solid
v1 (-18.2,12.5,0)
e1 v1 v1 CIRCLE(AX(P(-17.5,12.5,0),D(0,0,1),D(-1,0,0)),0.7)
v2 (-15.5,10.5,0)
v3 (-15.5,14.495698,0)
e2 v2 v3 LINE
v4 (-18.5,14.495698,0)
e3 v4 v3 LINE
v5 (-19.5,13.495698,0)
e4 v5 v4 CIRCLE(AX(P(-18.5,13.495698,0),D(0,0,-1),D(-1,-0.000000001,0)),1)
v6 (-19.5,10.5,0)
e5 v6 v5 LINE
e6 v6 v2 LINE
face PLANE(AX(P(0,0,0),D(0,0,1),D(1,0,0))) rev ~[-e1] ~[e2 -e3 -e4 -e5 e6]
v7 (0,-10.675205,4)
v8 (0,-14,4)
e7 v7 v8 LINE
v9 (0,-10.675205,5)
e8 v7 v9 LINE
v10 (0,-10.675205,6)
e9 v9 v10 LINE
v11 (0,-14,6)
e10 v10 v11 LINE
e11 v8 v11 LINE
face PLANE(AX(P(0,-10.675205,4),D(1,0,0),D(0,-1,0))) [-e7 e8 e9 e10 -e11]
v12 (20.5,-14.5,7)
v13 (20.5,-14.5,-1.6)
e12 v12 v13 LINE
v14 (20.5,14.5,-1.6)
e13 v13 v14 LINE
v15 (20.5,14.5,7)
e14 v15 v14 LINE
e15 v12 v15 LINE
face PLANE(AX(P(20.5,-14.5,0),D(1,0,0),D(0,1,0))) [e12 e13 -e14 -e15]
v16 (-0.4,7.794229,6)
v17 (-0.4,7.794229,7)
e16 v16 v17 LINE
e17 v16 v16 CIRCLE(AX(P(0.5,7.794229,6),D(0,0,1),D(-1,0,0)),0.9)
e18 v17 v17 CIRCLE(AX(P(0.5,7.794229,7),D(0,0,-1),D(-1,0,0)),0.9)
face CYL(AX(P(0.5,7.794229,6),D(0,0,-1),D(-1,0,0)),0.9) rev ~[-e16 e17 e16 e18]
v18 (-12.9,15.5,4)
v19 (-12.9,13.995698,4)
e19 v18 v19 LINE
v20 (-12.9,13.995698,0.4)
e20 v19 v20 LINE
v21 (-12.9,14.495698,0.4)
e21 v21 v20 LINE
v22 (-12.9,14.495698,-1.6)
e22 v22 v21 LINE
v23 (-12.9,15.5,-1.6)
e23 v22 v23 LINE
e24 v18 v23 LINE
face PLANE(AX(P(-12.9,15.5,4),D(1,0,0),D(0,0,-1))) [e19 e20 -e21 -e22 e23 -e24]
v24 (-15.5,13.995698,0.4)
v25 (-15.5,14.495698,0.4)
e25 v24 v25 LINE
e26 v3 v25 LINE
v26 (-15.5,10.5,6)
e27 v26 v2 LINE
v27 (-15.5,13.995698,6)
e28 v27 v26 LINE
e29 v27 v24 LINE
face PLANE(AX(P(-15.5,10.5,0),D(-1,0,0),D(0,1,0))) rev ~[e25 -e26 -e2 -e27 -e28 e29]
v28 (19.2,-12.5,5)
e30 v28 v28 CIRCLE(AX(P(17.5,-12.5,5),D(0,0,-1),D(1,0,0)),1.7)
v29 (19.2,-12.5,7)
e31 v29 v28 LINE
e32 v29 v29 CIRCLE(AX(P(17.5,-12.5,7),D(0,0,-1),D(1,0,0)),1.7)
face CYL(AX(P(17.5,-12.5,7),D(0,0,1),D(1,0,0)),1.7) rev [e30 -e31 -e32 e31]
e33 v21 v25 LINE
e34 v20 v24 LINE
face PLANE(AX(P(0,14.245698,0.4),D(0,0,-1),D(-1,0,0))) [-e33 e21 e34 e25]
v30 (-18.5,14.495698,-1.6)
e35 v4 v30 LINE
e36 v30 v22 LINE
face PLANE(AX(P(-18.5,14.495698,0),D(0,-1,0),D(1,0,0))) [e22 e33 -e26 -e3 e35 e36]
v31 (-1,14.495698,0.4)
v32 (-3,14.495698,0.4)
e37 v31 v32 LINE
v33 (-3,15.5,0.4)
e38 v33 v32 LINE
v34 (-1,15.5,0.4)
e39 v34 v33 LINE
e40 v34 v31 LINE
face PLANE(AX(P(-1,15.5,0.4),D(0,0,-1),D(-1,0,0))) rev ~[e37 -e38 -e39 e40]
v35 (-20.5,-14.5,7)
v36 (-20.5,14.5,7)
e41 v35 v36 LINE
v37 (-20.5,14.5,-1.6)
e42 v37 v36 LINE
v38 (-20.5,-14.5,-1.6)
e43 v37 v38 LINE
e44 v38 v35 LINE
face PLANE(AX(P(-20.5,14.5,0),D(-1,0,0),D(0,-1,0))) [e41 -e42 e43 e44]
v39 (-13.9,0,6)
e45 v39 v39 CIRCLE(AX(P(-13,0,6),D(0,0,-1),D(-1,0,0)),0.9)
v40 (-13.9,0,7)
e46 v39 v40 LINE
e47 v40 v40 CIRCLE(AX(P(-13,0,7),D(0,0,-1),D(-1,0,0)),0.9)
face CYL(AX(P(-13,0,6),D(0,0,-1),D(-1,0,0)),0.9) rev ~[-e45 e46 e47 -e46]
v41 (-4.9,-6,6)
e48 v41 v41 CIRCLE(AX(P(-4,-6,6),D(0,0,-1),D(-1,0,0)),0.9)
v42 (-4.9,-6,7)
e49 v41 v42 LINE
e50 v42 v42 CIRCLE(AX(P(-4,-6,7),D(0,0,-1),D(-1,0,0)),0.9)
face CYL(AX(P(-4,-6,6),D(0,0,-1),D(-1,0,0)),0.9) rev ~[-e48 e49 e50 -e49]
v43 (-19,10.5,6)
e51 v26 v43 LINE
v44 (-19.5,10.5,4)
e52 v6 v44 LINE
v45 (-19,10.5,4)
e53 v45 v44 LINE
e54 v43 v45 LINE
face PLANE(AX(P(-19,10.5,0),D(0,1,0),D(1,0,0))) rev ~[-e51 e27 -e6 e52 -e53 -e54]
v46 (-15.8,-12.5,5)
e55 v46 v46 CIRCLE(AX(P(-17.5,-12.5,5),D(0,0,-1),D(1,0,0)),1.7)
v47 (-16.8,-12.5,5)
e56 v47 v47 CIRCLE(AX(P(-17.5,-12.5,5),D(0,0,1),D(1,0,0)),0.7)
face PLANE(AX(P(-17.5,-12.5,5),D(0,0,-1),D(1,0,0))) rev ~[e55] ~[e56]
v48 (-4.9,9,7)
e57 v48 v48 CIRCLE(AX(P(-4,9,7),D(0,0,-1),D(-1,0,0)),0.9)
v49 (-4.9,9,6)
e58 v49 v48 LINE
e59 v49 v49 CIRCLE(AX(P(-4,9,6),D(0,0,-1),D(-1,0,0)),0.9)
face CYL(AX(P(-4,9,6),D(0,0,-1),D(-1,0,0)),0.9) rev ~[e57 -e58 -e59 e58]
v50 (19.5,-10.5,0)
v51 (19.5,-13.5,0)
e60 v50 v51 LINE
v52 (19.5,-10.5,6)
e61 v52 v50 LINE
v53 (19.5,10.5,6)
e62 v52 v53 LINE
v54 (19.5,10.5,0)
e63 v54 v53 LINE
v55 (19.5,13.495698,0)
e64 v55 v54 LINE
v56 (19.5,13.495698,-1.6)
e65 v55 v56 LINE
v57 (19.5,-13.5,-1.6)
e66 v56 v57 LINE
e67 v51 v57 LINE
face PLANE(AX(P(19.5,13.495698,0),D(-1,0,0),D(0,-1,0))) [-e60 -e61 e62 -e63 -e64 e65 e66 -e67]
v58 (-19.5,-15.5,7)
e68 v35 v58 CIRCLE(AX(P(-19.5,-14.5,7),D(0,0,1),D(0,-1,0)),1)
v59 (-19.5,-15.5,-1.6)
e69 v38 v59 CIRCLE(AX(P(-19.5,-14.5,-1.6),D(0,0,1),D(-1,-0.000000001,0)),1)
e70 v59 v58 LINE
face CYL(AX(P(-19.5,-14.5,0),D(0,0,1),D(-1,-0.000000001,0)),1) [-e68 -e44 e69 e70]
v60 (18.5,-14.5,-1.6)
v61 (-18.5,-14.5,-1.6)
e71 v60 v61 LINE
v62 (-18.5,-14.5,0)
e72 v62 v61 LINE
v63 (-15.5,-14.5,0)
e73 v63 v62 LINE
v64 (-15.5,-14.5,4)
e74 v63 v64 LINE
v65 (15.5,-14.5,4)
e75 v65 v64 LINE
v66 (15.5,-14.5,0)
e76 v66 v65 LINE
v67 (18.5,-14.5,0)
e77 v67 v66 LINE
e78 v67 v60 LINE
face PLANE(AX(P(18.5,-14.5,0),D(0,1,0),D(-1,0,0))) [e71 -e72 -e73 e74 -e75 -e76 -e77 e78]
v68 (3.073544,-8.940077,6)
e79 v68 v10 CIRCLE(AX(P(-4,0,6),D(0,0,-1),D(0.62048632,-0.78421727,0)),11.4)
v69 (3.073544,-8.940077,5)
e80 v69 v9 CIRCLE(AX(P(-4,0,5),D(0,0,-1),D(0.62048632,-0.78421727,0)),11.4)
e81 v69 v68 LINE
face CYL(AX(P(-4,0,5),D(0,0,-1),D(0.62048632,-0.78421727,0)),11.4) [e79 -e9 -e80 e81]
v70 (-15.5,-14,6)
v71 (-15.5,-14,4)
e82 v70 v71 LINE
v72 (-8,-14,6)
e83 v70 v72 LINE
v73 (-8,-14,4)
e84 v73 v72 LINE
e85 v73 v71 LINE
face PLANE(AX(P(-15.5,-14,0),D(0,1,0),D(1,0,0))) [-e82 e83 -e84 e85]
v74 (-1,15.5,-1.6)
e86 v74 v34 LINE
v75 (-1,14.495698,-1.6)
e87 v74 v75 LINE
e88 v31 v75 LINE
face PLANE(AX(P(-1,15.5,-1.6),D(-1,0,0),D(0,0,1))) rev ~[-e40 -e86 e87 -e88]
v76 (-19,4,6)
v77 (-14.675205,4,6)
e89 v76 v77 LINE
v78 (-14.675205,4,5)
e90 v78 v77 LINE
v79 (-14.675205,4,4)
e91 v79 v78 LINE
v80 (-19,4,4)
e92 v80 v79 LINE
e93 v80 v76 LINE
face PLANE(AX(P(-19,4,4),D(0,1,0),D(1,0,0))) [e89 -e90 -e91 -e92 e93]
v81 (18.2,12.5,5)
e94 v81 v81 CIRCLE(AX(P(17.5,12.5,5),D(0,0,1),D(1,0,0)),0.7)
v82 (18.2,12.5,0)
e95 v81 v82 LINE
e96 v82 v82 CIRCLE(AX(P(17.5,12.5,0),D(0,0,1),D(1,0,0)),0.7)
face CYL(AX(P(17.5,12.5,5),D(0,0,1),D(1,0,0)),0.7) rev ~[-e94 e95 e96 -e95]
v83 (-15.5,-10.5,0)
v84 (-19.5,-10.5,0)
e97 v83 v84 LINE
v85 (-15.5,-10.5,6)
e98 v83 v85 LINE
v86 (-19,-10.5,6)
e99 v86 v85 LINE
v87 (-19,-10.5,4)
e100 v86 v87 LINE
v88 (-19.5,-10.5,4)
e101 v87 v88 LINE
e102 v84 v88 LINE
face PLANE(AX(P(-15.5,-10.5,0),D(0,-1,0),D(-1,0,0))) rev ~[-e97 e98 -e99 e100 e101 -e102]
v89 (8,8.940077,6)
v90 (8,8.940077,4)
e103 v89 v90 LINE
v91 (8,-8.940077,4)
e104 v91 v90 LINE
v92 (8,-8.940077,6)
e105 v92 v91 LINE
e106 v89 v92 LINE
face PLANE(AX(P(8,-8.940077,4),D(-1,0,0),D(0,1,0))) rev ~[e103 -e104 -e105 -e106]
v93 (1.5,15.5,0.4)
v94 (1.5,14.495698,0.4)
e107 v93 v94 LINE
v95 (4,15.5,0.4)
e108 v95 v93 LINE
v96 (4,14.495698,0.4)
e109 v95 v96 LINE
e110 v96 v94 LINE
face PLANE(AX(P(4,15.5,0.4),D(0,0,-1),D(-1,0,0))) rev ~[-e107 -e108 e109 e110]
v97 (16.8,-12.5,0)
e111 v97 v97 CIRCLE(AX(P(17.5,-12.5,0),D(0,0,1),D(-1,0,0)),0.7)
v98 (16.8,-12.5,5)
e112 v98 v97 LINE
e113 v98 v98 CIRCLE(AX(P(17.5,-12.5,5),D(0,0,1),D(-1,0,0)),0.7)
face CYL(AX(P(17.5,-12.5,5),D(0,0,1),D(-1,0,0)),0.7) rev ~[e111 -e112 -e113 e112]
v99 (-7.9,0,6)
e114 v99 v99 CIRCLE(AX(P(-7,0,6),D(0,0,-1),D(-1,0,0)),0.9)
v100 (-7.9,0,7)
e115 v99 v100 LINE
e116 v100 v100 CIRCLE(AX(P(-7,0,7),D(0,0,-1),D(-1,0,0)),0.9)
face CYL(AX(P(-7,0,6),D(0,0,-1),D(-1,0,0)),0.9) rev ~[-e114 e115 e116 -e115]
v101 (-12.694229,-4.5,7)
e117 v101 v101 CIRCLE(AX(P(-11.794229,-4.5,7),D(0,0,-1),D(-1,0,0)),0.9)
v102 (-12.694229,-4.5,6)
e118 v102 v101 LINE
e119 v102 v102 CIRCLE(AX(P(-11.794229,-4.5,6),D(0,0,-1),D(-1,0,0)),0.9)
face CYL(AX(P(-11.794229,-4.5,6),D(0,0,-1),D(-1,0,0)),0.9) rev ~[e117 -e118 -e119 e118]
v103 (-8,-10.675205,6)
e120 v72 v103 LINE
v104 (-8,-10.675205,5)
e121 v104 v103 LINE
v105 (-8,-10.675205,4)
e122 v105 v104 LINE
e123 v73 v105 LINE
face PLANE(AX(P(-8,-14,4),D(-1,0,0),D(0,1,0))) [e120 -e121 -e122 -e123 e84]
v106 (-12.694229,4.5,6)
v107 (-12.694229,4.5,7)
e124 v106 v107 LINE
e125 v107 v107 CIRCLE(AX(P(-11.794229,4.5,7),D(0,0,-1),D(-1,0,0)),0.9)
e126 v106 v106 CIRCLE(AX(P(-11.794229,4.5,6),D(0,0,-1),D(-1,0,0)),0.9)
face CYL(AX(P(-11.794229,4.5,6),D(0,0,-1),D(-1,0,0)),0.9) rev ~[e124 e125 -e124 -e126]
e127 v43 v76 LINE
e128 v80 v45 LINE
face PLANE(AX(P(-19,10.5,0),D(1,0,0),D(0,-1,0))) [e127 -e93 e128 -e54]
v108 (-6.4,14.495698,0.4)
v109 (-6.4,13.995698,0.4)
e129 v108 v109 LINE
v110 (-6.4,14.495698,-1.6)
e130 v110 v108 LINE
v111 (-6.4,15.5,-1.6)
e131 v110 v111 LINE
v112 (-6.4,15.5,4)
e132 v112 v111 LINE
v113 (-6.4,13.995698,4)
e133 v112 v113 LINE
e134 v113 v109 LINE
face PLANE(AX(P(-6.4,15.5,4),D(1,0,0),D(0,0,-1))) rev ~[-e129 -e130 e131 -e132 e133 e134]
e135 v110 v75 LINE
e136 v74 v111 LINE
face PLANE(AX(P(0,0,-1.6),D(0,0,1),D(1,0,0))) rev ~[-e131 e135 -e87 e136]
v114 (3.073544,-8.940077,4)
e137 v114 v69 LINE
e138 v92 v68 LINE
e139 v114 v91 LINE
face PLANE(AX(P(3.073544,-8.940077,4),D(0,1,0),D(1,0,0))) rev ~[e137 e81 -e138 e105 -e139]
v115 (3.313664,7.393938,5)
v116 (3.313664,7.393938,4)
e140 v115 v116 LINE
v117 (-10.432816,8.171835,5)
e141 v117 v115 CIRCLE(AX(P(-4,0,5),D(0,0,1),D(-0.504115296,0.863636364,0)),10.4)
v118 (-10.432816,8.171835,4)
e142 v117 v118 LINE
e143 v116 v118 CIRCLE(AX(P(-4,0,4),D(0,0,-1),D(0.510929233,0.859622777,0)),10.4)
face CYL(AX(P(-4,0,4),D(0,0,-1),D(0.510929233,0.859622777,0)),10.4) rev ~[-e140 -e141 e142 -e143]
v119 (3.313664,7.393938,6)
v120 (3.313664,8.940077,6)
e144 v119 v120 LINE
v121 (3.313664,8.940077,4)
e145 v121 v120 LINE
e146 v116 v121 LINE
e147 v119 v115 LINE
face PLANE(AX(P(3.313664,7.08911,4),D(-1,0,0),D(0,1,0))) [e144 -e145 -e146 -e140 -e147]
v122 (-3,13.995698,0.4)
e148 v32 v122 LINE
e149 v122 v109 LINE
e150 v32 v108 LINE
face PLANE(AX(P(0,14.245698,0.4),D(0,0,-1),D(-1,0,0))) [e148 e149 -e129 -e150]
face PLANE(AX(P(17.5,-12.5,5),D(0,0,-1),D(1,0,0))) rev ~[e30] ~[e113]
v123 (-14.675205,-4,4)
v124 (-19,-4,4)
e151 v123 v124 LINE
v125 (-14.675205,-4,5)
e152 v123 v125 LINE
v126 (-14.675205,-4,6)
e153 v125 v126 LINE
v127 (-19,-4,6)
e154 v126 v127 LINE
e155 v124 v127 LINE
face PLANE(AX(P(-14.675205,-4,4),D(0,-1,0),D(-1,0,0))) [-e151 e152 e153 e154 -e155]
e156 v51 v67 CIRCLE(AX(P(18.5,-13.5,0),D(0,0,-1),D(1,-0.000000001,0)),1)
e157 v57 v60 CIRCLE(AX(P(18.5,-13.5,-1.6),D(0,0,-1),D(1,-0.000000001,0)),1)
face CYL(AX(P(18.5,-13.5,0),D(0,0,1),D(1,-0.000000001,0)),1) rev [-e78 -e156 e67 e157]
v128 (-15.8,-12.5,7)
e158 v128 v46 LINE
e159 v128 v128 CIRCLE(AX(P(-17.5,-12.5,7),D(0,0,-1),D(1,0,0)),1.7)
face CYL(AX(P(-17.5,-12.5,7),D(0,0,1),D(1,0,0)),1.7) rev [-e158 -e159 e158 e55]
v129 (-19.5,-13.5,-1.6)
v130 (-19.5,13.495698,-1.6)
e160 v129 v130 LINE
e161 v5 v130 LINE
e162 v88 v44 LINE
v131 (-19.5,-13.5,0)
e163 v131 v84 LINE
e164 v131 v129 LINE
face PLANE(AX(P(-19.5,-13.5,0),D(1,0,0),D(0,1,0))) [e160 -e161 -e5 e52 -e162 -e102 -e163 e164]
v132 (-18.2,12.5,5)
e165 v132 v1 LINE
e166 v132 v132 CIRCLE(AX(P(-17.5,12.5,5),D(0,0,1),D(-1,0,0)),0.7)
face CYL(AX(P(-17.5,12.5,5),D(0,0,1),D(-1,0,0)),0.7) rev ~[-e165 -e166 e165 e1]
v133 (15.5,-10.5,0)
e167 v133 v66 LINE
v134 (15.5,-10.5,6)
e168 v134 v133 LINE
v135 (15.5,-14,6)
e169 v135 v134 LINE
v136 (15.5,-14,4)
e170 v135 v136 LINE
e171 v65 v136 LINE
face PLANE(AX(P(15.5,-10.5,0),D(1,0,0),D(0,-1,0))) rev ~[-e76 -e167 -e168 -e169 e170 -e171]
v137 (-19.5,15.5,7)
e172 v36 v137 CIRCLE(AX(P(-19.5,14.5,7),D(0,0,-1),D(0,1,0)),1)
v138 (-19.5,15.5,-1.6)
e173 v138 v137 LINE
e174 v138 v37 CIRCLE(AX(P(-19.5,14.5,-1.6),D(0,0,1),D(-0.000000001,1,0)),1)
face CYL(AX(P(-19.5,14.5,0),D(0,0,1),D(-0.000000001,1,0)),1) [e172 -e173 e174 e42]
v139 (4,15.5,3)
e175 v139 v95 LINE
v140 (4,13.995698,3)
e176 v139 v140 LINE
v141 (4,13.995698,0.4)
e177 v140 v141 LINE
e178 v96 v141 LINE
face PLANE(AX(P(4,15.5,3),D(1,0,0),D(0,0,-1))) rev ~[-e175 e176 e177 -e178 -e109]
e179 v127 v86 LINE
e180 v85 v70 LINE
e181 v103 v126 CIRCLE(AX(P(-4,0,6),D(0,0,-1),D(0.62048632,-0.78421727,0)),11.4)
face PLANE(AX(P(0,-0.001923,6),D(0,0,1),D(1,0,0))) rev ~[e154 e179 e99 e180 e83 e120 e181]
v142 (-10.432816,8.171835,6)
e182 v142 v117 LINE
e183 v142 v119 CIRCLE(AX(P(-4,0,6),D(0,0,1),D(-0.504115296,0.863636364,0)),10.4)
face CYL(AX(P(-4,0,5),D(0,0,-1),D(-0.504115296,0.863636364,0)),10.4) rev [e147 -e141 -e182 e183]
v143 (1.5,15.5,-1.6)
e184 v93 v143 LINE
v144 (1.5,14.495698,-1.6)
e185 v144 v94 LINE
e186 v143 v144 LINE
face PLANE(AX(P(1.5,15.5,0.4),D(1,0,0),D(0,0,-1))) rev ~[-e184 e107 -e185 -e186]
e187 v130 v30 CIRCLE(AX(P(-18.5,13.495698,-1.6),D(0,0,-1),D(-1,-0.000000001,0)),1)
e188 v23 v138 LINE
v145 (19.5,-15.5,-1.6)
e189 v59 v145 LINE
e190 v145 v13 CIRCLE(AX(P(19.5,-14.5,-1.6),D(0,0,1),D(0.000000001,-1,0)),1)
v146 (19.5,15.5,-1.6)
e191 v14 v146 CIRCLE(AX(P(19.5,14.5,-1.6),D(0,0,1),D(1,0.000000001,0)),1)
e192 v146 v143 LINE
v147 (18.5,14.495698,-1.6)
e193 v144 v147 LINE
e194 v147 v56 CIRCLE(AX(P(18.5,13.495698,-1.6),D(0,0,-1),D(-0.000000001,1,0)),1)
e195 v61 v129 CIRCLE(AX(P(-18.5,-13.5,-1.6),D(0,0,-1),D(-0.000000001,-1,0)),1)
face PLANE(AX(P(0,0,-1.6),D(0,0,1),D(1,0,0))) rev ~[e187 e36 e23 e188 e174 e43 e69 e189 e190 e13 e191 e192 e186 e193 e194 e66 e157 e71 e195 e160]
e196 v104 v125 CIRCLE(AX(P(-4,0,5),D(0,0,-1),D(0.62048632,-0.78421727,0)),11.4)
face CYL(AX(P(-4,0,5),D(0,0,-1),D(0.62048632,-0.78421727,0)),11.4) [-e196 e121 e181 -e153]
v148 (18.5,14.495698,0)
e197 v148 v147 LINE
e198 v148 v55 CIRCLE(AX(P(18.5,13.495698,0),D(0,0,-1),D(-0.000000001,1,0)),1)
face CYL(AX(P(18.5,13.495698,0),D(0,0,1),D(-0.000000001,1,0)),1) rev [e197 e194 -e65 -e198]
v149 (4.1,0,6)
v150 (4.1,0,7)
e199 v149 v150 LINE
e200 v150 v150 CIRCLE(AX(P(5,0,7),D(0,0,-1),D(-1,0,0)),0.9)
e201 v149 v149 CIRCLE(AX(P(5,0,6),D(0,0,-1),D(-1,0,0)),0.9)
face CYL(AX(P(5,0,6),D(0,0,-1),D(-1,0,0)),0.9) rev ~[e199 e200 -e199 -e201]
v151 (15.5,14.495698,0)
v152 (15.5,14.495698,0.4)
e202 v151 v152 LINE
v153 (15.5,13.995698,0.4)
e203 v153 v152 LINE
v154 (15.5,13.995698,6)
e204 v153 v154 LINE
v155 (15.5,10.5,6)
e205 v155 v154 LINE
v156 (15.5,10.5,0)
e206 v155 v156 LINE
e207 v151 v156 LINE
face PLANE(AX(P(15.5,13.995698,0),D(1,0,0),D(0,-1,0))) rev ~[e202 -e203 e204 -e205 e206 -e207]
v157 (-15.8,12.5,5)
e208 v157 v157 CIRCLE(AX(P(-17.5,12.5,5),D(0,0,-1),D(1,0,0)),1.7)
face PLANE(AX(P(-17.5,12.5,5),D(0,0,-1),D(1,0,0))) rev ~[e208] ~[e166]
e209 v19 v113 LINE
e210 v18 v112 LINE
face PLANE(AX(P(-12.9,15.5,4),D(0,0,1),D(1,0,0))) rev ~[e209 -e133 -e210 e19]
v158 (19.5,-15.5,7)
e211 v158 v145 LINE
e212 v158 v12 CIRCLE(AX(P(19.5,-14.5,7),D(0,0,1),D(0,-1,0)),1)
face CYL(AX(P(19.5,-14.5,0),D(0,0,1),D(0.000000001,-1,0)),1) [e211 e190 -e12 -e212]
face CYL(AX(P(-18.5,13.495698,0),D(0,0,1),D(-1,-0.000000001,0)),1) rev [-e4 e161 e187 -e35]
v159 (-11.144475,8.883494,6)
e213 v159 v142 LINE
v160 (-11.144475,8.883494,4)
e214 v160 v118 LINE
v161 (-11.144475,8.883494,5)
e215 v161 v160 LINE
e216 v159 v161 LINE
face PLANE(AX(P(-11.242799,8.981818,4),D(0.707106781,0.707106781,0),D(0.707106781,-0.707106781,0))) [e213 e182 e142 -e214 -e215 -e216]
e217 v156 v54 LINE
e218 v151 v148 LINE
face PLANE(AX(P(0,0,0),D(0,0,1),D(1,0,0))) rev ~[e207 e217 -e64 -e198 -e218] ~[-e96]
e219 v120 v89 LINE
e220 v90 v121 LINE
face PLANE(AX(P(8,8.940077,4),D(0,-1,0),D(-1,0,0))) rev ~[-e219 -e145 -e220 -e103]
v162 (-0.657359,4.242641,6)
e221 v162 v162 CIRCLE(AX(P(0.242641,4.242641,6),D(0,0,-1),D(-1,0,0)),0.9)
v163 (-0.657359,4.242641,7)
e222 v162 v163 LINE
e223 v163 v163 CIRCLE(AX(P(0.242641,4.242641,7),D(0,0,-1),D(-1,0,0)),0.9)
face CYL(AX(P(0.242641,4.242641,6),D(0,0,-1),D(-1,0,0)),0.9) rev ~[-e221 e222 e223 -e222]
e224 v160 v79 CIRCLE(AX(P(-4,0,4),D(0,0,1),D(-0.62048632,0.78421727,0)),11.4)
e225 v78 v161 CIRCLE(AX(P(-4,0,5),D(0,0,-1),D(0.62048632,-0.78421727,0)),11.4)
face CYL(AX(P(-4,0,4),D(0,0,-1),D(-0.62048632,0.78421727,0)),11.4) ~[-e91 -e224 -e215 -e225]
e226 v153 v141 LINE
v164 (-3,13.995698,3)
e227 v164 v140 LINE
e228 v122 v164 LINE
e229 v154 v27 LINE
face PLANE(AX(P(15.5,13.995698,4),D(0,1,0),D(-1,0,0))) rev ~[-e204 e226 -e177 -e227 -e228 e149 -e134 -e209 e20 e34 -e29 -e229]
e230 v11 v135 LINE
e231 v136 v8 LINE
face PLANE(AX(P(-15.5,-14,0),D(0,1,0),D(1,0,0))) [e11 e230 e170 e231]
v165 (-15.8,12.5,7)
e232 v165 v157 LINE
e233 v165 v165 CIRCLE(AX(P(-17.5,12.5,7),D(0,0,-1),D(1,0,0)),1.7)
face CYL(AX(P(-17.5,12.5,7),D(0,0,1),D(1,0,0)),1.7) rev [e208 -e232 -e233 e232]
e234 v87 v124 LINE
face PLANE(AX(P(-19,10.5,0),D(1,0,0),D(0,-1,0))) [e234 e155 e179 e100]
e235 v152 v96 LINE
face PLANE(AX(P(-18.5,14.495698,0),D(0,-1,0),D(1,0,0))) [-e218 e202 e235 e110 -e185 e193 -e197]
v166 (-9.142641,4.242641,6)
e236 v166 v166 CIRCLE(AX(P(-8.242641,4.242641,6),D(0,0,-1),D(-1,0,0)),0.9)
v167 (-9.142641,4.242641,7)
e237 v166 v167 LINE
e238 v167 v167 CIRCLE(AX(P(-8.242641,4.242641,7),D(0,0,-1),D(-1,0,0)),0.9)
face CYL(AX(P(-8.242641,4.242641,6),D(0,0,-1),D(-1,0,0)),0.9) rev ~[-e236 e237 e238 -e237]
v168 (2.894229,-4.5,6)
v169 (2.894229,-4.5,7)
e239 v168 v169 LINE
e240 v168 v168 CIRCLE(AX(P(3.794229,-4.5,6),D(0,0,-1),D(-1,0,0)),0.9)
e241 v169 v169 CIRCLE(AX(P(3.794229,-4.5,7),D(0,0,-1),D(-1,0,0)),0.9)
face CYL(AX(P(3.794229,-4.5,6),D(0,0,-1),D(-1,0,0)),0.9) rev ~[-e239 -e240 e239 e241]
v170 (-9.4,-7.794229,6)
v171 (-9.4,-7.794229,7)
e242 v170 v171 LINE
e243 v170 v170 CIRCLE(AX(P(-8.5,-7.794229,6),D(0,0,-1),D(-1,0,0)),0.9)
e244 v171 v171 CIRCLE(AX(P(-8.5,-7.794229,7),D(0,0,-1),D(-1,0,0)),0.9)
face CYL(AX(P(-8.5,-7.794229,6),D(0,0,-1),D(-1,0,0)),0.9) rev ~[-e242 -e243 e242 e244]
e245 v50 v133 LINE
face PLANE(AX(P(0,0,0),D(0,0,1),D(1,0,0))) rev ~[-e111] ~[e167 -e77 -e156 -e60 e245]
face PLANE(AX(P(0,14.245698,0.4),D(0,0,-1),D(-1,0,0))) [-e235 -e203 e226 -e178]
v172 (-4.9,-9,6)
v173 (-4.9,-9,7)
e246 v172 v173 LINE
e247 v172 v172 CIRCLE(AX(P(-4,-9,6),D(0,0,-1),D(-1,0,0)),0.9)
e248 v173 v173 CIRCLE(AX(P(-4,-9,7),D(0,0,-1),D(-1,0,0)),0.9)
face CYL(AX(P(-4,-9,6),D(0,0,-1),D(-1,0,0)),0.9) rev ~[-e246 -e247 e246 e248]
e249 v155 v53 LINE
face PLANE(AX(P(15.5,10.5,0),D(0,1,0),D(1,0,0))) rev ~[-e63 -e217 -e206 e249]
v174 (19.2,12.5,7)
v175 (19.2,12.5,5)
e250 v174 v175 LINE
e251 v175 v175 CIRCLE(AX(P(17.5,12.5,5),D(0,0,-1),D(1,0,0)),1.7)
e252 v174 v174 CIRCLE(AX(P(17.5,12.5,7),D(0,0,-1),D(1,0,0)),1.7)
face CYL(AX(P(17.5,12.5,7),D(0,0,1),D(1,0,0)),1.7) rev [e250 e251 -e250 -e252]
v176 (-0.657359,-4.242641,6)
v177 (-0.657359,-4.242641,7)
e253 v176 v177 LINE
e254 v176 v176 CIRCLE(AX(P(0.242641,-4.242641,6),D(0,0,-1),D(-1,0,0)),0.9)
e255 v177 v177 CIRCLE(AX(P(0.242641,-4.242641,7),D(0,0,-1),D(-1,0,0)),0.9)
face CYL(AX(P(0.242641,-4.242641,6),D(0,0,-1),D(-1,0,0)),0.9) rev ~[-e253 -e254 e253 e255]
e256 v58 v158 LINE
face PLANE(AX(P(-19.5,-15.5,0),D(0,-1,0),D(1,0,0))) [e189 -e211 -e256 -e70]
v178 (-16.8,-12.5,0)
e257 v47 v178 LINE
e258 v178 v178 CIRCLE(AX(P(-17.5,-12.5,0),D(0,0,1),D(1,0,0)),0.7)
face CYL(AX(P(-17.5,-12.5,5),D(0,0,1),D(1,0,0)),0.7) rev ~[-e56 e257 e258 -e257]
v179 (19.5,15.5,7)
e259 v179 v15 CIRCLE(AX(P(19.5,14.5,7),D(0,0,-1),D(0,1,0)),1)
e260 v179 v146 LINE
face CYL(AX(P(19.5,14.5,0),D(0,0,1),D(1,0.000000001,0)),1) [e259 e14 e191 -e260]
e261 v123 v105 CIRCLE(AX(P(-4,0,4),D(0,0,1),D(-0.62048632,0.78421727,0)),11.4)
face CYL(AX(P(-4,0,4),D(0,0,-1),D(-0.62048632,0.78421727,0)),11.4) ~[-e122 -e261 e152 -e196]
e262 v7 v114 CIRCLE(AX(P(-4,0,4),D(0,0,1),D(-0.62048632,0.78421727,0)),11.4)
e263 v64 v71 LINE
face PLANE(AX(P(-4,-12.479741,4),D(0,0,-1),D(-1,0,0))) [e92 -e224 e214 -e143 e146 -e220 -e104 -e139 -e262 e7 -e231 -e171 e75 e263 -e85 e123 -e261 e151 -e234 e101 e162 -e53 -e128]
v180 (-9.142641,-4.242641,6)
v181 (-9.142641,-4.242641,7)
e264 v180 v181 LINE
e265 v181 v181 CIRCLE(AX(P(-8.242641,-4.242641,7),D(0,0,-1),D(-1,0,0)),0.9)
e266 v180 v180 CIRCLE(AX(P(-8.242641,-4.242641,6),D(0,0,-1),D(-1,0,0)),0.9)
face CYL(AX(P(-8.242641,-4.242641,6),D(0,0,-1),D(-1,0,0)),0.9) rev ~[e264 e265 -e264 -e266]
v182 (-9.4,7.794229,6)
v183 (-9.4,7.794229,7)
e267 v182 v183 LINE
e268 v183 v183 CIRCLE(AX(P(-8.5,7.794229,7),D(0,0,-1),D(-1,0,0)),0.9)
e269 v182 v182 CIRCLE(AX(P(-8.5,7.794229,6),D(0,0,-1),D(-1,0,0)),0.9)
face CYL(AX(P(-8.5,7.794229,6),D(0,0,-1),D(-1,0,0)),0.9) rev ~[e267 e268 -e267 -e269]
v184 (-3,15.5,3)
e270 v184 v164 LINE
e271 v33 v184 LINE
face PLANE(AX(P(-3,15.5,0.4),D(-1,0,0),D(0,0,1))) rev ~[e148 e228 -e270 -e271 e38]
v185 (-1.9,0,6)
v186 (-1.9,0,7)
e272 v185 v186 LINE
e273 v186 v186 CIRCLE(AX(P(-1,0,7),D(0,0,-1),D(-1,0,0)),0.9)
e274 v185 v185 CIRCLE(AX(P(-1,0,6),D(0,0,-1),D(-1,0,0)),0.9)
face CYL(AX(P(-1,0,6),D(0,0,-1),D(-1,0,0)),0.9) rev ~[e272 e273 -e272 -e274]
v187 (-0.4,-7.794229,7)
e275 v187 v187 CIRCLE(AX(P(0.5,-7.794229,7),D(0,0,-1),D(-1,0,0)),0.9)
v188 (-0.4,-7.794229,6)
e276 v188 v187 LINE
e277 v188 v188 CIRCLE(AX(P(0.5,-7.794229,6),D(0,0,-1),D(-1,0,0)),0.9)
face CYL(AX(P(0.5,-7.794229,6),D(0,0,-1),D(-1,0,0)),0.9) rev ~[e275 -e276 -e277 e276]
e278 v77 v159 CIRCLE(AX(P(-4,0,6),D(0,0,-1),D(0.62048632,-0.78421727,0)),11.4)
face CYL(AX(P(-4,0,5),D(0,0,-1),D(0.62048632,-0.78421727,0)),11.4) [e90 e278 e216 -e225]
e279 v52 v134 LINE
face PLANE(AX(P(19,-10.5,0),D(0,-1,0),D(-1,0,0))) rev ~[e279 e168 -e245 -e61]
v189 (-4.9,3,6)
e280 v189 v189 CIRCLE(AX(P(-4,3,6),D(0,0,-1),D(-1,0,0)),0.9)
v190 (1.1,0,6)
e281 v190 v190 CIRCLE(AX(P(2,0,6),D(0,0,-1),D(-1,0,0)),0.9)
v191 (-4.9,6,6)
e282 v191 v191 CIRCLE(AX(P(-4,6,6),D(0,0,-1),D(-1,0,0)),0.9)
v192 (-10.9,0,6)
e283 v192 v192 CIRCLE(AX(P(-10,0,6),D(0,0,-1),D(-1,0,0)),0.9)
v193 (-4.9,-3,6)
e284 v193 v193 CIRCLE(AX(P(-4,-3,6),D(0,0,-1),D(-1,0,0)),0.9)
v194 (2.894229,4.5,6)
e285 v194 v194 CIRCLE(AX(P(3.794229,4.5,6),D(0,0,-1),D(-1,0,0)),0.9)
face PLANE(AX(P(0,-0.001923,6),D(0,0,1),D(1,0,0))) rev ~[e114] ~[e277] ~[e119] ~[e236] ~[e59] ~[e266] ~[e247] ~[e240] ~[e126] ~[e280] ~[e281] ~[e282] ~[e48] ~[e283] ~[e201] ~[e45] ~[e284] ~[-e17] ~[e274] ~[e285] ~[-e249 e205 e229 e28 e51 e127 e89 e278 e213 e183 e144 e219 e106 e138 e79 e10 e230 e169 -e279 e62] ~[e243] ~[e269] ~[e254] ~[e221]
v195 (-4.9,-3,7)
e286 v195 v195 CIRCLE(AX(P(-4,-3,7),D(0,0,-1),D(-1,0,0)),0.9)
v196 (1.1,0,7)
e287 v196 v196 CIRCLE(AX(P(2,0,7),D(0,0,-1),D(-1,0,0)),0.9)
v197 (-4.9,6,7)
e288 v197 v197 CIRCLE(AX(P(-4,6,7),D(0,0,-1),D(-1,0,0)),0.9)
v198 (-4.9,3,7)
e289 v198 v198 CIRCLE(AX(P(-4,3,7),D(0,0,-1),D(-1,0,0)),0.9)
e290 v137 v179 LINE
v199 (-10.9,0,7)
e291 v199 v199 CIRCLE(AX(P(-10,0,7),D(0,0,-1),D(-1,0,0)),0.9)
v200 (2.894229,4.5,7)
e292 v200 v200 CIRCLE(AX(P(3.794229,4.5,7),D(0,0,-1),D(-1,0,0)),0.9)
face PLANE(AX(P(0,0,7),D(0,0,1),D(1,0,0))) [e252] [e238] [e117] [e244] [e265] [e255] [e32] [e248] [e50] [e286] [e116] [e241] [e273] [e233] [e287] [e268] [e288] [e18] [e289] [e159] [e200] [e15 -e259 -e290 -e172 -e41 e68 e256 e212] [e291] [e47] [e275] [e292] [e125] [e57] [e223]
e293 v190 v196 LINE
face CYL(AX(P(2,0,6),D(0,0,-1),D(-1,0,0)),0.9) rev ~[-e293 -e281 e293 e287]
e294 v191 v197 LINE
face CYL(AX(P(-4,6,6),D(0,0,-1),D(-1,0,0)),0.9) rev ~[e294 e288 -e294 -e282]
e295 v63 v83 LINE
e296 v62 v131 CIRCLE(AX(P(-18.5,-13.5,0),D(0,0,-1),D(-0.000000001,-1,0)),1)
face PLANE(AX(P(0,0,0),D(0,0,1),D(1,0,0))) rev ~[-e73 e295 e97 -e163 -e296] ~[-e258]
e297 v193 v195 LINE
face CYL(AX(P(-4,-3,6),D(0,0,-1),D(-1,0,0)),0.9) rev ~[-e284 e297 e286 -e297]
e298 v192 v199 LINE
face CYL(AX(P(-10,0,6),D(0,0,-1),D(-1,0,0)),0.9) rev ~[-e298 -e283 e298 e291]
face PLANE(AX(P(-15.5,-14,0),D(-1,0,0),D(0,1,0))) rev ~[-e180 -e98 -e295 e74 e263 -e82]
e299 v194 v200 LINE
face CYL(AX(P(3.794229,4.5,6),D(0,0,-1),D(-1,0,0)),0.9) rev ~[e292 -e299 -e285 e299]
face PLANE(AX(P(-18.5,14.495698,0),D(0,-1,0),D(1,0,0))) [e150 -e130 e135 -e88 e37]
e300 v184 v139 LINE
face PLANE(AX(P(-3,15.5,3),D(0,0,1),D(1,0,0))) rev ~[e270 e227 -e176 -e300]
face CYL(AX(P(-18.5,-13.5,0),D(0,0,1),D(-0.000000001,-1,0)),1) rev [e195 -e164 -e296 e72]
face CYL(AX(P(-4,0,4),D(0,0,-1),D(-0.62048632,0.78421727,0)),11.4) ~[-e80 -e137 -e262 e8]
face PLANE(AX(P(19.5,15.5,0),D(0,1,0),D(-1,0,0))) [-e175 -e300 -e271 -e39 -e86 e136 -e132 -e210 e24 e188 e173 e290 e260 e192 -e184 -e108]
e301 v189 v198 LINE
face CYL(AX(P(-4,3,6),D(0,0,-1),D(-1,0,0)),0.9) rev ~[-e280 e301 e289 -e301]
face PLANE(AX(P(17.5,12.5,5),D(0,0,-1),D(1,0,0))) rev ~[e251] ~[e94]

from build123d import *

# Parameters (mm, degrees)
SKETCH_1_W           = 41
SKETCH_1_H           = 31
SKETCH_1_W_2         = 31
SKETCH_1_H_2         = 21
EXTRUDE_1_DEPTH      = 5
SKETCH_2_W           = 41
SKETCH_2_H           = 31
EXTRUDE_1_2_DEPTH    = 2
CUT_EXTRUDE_START    = -7
SKETCH_3_R           = 1.7
CUT_EXTRUDE_1_DEPTH  = 2
SKETCH_4_R           = 0.7
CUT_EXTRUDE_2_DEPTH  = 27.182054923
FILLET_1_R           = 1
CUT_EXTRUDE_3_DEPTH  = 5
CUT_EXTRUDE_5_DEPTH  = 1
EXTRUDE_START        = 1
EXTRUDE_2_DEPTH      = 1
SKETCH_12_W          = 31
SKETCH_12_H          = 0.5
SKETCH_12_W_2        = 0.5
SKETCH_12_H_2        = 21
CUT_EXTRUDE_9_DEPTH  = 4
EXTRUDE_3_DEPTH      = 1.6
SKETCH_18_W          = 31
SKETCH_18_H          = 0.5
EXTRUDE_4_DEPTH      = 3.6
SKETCH_14_W          = 6.5
SKETCH_14_H          = 6
CUT_EXTRUDE_10_DEPTH = 2
SKETCH_16_R          = 0.9
CUT_EXTRUDE_12_DEPTH = 10
SKETCH_17_W          = 2
SKETCH_17_H          = 1.850967132
CUT_EXTRUDE_13_DEPTH = 2
SKETCH_19_W          = 0.5
SKETCH_19_H          = 21
CUT_EXTRUDE_14_DEPTH = 2
EXTRUDE_5_DEPTH      = 2


with BuildPart() as part:
    # 草图1 → Extrude 1 (new body)
    with BuildSketch(Plane.XY):
        Rectangle(SKETCH_1_W, SKETCH_1_H)
        Rectangle(SKETCH_1_W_2, SKETCH_1_H_2, mode=Mode.SUBTRACT)
    extrude(amount=EXTRUDE_1_DEPTH)

    # 草图2 → Extrude 1 2 (add)
    with BuildSketch(Plane.XY.offset(5)):
        Rectangle(SKETCH_2_W, SKETCH_2_H)
    extrude(amount=EXTRUDE_1_2_DEPTH)

    # 草图3 → 切除-拉伸1 (cut)
    with BuildSketch(Plane(origin=(0, 0, 0), x_dir=(-1, 0, 0), z_dir=(0, 0, -1)).offset(CUT_EXTRUDE_START)):
        with Locations(Location((17.5, 12.5, 0), (0, 0, 180))):
            Circle(SKETCH_3_R)
        with Locations(Location((-17.5, 12.5, 0), (0, 0, 180))):
            Circle(SKETCH_3_R)
        with Locations(Location((17.5, -12.5, 0), (0, 0, 180))):
            Circle(SKETCH_3_R)
        with Locations(Location((-17.5, -12.5, 0), (0, 0, 180))):
            Circle(SKETCH_3_R)
    extrude(amount=CUT_EXTRUDE_1_DEPTH, mode=Mode.SUBTRACT)

    # 草图4 → 切除-拉伸2 (cut, through all)
    with BuildSketch(Plane.XY.offset(5)):
        with Locations((17.5, 12.5)):
            Circle(SKETCH_4_R)
        with Locations(Location((-17.5, 12.5, 0), (0, 0, 180))):
            Circle(SKETCH_4_R)
        with Locations(Location((17.5, -12.5, 0), (0, 0, 180))):
            Circle(SKETCH_4_R)
        with Locations((-17.5, -12.5)):
            Circle(SKETCH_4_R)
    extrude(amount=-CUT_EXTRUDE_2_DEPTH, mode=Mode.SUBTRACT)

    # 圆角1
    fillet_1_edges = [part.edges().sort_by_distance(p)[0] for p in [
        (20.5, -15.5, 3.5),
        (-20.5, -15.5, 3.5),
        (-20.5, 15.5, 3.5),
        (20.5, 15.5, 3.5),
    ]]
    fillet(fillet_1_edges, radius=FILLET_1_R)

    # 草图5 → 切除-拉伸3 (cut)
    with BuildSketch(Plane(origin=(0, 0, 0), x_dir=(-1, 0, 0), z_dir=(0, 0, -1))):
        Polygon((-15.5, 10.5), (-15.5, 12.5), (-15.5, 13.995698298), (15.5, 13.995698298), (15.5, 12.5), (15.5, 10.5), (17.5, 10.5), (19, 10.5), (19, -10.5), (17.5, -10.5), (15.5, -10.5), (15.5, -12.5), (15.5, -14), (-15.5, -14), (-15.5, -12.5), (-15.5, -10.5), (-17.5, -10.5), (-19, -10.5), (-19, 10.5), (-17.5, 10.5), align=None)
    extrude(amount=-CUT_EXTRUDE_3_DEPTH, mode=Mode.SUBTRACT)

    # 草图7 → 切除-拉伸5 (cut)
    with BuildSketch(Plane(origin=(0, 0, 5), x_dir=(-1, 0, 0), z_dir=(0, 0, -1))):
        Polygon((-15.5, 13.995698298), (15.5, 13.995698298), (15.5, 10.5), (19, 10.5), (19, -10.5), (15.5, -10.5), (15.5, -14), (-15.5, -14), (-15.5, -10.5), (-19, -10.5), (-19, -8.940076883), (-19, 8.940076883), (-19, 10.5), (-15.5, 10.5), align=None)
        with BuildLine():
            Line((-8, 8.940076883), (-8, -8.940076883))
            Line((-8, -8.940076883), (-3.073544042, -8.940076883))
            ThreePointArc((-3.073544042, -8.940076883), (12.960986832, -7.047035902), (11.02046595, 8.981818182))
            Line((11.02046595, 8.981818182), (9.242799076, 8.981818182))
            ThreePointArc((9.242799076, 8.981818182), (4.041122306, -10.399918699), (-1.31366402, 8.940076883))
            Line((-1.31366402, 8.940076883), (-4.642515442, 8.940076883))
            Line((-4.642515442, 8.940076883), (-8, 8.940076883))
        make_face(mode=Mode.SUBTRACT)
    extrude(amount=-CUT_EXTRUDE_5_DEPTH, mode=Mode.SUBTRACT)

    # 草图9 → 凸台-拉伸2 (add)
    with BuildSketch(Plane(origin=(0, 0, 5), x_dir=(-1, 0, 0), z_dir=(0, 0, -1)).offset(EXTRUDE_START)):
        with BuildLine():
            Line((-8, 8.940076883), (-1.31366402, 8.940076883))
            ThreePointArc((-1.31366402, 8.940076883), (4, -10.4), (9.31366402, 8.940076883))
            Line((9.31366402, 8.940076883), (11.073544042, 8.940076883))
            ThreePointArc((11.073544042, 8.940076883), (12.940076883, -7.073544042), (-3.073544042, -8.940076883))
            Line((-3.073544042, -8.940076883), (-8, -8.940076883))
            Line((-8, -8.940076883), (-8, 8.940076883))
        make_face()
    extrude(amount=-EXTRUDE_2_DEPTH)

    # 草图12 → 切除-拉伸9 (cut)
    with BuildSketch(Plane(origin=(0, 0, 0), x_dir=(-1, 0, 0), z_dir=(0, 0, -1))):
        with Locations((0, -14.25)):
            Rectangle(SKETCH_12_W, SKETCH_12_H)
        with Locations((0, 14.245698298)):
            Rectangle(SKETCH_12_W, SKETCH_12_H)
        with Locations((-19.25, 0)):
            Rectangle(SKETCH_12_W_2, SKETCH_12_H_2)
        with Locations((19.25, 0)):
            Rectangle(SKETCH_12_W_2, SKETCH_12_H_2)
    extrude(amount=-CUT_EXTRUDE_9_DEPTH, mode=Mode.SUBTRACT)

    # 草图13 → 凸台-拉伸3 (add)
    with BuildSketch(Plane(origin=(0, 0, 0), x_dir=(-1, 0, 0), z_dir=(0, 0, -1))):
        with BuildLine():
            Line((-19.5, 15.5), (19.5, 15.5))
            ThreePointArc((19.5, 15.5), (20.207106781, 15.207106781), (20.5, 14.5))
            Line((20.5, 14.5), (20.5, -14.5))
            ThreePointArc((20.5, -14.5), (20.207106781, -15.207106781), (19.5, -15.5))
            Line((19.5, -15.5), (-19.5, -15.5))
            ThreePointArc((-19.5, -15.5), (-20.207106781, -15.207106781), (-20.5, -14.5))
            Line((-20.5, -14.5), (-20.5, 14.5))
            ThreePointArc((-20.5, 14.5), (-20.207106781, 15.207106781), (-19.5, 15.5))
        make_face()
        with BuildLine():
            Line((-19.5, 13.495698298), (-19.5, -13.5))
            ThreePointArc((-19.5, -13.5), (-19.207106781, -14.207106781), (-18.5, -14.5))
            Line((-18.5, -14.5), (18.5, -14.5))
            ThreePointArc((18.5, -14.5), (19.207106781, -14.207106781), (19.5, -13.5))
            Line((19.5, -13.5), (19.5, 13.495698298))
            ThreePointArc((19.5, 13.495698298), (19.207106781, 14.20280508), (18.5, 14.495698298))
            Line((18.5, 14.495698298), (-18.5, 14.495698298))
            ThreePointArc((-18.5, 14.495698298), (-19.207106781, 14.20280508), (-19.5, 13.495698298))
        make_face(mode=Mode.SUBTRACT)
    extrude(amount=EXTRUDE_3_DEPTH)

    # 草图18 → 凸台-拉伸4 (add)
    with BuildSketch(Plane(origin=(0, 0, 4), x_dir=(-1, 0, 0), z_dir=(0, 0, -1))):
        with Locations((0, 14.245698298)):
            Rectangle(SKETCH_18_W, SKETCH_18_H)
    extrude(amount=EXTRUDE_4_DEPTH)

    # 草图14 → 切除-拉伸10 (cut)
    with BuildSketch(Plane(origin=(0, 15.5, 0), x_dir=(1, 0, 0), z_dir=(0, 1, 0))):
        Polygon((-1, 1.6), (-1, -0.4), (-3, -0.4), (-3, -3), (4, -3), (4, -0.4), (1.5, -0.4), (1.5, 1.6), align=None)
        with Locations((-9.65, -1)):
            Rectangle(SKETCH_14_W, SKETCH_14_H)
    extrude(amount=-CUT_EXTRUDE_10_DEPTH, mode=Mode.SUBTRACT)

    # 草图16 → 切除-拉伸12 (cut)
    with BuildSketch(Plane(origin=(0, 0, 6), x_dir=(-1, 0, 0), z_dir=(0, 0, -1))):
        with Locations((4, 3)):
            Circle(SKETCH_16_R)
        with Locations((7, 0)):
            Circle(SKETCH_16_R)
        with Locations((4, -3)):
            Circle(SKETCH_16_R)
        with Locations((1, 0)):
            Circle(SKETCH_16_R)
        with Locations((4, 6)):
            Circle(SKETCH_16_R)
        with Locations((4, 9)):
            Circle(SKETCH_16_R)
        with Locations((8.5, 7.794228634)):
            Circle(SKETCH_16_R)
        with Locations((11.794228634, 4.5)):
            Circle(SKETCH_16_R)
        with Locations((13, 0)):
            Circle(SKETCH_16_R)
        with Locations((11.794228634, -4.5)):
            Circle(SKETCH_16_R)
        with Locations((8.5, -7.794228634)):
            Circle(SKETCH_16_R)
        with Locations((4, -9)):
            Circle(SKETCH_16_R)
        with Locations((-0.5, -7.794228634)):
            Circle(SKETCH_16_R)
        with Locations((-3.794228634, -4.5)):
            Circle(SKETCH_16_R)
        with Locations((-5, 0)):
            Circle(SKETCH_16_R)
        with Locations((-3.794228634, 4.5)):
            Circle(SKETCH_16_R)
        with Locations((-0.5, 7.794228634)):
            Circle(SKETCH_16_R)
        with Locations((8.242640687, 4.242640687)):
            Circle(SKETCH_16_R)
        with Locations((10, 0)):
            Circle(SKETCH_16_R)
        with Locations((8.242640687, -4.242640687)):
            Circle(SKETCH_16_R)
        with Locations((4, -6)):
            Circle(SKETCH_16_R)
        with Locations((-0.242640687, -4.242640687)):
            Circle(SKETCH_16_R)
        with Locations((-2, 0)):
            Circle(SKETCH_16_R)
        with Locations((-0.242640687, 4.242640687)):
            Circle(SKETCH_16_R)
    extrude(amount=-CUT_EXTRUDE_12_DEPTH, mode=Mode.SUBTRACT)

    # 草图17 → 切除-拉伸13 (cut)
    with BuildSketch(Plane(origin=(0, 0, 4), x_dir=(-1, 0, 0), z_dir=(0, 0, -1))):
        with Locations((-2.31366402, 8.014593317)):
            Rectangle(SKETCH_17_W, SKETCH_17_H)
        Polygon((9.242799076, 8.981818182), (11.242799076, 8.981818182), (10.275574211, 8.014593317), align=None)
    extrude(amount=-CUT_EXTRUDE_13_DEPTH, mode=Mode.SUBTRACT)

    # 草图19 → 切除-拉伸14 (cut)
    with BuildSketch(Plane(origin=(0, 0, 4), x_dir=(-1, 0, 0), z_dir=(0, 0, -1))):
        with Locations((-19.25, 0)):
            Rectangle(SKETCH_19_W, SKETCH_19_H)
    extrude(amount=-CUT_EXTRUDE_14_DEPTH, mode=Mode.SUBTRACT)

    # 草图20 → 凸台-拉伸5 (add)
    with BuildSketch(Plane(origin=(0, 0, 4), x_dir=(-1, 0, 0), z_dir=(0, 0, -1))):
        with BuildLine():
            ThreePointArc((8, -10.675204916), (4, -11.4), (0, -10.675204916))
            Line((0, -10.675204916), (0, -14))
            Line((0, -14), (4, -14))
            Line((4, -14), (8, -14))
            Line((8, -14), (8, -10.675204916))
        make_face()
        with BuildLine():
            Line((19, -4), (19, 0))
            Line((19, 0), (19, 4))
            Line((19, 4), (14.675204916, 4))
            ThreePointArc((14.675204916, 4), (15.217337831, 2.032567829), (15.4, 0))
            ThreePointArc((15.4, 0), (15.217337831, -2.032567829), (14.675204916, -4))
            Line((14.675204916, -4), (19, -4))
        make_face()
    extrude(amount=-EXTRUDE_5_DEPTH)


solid = part.part
